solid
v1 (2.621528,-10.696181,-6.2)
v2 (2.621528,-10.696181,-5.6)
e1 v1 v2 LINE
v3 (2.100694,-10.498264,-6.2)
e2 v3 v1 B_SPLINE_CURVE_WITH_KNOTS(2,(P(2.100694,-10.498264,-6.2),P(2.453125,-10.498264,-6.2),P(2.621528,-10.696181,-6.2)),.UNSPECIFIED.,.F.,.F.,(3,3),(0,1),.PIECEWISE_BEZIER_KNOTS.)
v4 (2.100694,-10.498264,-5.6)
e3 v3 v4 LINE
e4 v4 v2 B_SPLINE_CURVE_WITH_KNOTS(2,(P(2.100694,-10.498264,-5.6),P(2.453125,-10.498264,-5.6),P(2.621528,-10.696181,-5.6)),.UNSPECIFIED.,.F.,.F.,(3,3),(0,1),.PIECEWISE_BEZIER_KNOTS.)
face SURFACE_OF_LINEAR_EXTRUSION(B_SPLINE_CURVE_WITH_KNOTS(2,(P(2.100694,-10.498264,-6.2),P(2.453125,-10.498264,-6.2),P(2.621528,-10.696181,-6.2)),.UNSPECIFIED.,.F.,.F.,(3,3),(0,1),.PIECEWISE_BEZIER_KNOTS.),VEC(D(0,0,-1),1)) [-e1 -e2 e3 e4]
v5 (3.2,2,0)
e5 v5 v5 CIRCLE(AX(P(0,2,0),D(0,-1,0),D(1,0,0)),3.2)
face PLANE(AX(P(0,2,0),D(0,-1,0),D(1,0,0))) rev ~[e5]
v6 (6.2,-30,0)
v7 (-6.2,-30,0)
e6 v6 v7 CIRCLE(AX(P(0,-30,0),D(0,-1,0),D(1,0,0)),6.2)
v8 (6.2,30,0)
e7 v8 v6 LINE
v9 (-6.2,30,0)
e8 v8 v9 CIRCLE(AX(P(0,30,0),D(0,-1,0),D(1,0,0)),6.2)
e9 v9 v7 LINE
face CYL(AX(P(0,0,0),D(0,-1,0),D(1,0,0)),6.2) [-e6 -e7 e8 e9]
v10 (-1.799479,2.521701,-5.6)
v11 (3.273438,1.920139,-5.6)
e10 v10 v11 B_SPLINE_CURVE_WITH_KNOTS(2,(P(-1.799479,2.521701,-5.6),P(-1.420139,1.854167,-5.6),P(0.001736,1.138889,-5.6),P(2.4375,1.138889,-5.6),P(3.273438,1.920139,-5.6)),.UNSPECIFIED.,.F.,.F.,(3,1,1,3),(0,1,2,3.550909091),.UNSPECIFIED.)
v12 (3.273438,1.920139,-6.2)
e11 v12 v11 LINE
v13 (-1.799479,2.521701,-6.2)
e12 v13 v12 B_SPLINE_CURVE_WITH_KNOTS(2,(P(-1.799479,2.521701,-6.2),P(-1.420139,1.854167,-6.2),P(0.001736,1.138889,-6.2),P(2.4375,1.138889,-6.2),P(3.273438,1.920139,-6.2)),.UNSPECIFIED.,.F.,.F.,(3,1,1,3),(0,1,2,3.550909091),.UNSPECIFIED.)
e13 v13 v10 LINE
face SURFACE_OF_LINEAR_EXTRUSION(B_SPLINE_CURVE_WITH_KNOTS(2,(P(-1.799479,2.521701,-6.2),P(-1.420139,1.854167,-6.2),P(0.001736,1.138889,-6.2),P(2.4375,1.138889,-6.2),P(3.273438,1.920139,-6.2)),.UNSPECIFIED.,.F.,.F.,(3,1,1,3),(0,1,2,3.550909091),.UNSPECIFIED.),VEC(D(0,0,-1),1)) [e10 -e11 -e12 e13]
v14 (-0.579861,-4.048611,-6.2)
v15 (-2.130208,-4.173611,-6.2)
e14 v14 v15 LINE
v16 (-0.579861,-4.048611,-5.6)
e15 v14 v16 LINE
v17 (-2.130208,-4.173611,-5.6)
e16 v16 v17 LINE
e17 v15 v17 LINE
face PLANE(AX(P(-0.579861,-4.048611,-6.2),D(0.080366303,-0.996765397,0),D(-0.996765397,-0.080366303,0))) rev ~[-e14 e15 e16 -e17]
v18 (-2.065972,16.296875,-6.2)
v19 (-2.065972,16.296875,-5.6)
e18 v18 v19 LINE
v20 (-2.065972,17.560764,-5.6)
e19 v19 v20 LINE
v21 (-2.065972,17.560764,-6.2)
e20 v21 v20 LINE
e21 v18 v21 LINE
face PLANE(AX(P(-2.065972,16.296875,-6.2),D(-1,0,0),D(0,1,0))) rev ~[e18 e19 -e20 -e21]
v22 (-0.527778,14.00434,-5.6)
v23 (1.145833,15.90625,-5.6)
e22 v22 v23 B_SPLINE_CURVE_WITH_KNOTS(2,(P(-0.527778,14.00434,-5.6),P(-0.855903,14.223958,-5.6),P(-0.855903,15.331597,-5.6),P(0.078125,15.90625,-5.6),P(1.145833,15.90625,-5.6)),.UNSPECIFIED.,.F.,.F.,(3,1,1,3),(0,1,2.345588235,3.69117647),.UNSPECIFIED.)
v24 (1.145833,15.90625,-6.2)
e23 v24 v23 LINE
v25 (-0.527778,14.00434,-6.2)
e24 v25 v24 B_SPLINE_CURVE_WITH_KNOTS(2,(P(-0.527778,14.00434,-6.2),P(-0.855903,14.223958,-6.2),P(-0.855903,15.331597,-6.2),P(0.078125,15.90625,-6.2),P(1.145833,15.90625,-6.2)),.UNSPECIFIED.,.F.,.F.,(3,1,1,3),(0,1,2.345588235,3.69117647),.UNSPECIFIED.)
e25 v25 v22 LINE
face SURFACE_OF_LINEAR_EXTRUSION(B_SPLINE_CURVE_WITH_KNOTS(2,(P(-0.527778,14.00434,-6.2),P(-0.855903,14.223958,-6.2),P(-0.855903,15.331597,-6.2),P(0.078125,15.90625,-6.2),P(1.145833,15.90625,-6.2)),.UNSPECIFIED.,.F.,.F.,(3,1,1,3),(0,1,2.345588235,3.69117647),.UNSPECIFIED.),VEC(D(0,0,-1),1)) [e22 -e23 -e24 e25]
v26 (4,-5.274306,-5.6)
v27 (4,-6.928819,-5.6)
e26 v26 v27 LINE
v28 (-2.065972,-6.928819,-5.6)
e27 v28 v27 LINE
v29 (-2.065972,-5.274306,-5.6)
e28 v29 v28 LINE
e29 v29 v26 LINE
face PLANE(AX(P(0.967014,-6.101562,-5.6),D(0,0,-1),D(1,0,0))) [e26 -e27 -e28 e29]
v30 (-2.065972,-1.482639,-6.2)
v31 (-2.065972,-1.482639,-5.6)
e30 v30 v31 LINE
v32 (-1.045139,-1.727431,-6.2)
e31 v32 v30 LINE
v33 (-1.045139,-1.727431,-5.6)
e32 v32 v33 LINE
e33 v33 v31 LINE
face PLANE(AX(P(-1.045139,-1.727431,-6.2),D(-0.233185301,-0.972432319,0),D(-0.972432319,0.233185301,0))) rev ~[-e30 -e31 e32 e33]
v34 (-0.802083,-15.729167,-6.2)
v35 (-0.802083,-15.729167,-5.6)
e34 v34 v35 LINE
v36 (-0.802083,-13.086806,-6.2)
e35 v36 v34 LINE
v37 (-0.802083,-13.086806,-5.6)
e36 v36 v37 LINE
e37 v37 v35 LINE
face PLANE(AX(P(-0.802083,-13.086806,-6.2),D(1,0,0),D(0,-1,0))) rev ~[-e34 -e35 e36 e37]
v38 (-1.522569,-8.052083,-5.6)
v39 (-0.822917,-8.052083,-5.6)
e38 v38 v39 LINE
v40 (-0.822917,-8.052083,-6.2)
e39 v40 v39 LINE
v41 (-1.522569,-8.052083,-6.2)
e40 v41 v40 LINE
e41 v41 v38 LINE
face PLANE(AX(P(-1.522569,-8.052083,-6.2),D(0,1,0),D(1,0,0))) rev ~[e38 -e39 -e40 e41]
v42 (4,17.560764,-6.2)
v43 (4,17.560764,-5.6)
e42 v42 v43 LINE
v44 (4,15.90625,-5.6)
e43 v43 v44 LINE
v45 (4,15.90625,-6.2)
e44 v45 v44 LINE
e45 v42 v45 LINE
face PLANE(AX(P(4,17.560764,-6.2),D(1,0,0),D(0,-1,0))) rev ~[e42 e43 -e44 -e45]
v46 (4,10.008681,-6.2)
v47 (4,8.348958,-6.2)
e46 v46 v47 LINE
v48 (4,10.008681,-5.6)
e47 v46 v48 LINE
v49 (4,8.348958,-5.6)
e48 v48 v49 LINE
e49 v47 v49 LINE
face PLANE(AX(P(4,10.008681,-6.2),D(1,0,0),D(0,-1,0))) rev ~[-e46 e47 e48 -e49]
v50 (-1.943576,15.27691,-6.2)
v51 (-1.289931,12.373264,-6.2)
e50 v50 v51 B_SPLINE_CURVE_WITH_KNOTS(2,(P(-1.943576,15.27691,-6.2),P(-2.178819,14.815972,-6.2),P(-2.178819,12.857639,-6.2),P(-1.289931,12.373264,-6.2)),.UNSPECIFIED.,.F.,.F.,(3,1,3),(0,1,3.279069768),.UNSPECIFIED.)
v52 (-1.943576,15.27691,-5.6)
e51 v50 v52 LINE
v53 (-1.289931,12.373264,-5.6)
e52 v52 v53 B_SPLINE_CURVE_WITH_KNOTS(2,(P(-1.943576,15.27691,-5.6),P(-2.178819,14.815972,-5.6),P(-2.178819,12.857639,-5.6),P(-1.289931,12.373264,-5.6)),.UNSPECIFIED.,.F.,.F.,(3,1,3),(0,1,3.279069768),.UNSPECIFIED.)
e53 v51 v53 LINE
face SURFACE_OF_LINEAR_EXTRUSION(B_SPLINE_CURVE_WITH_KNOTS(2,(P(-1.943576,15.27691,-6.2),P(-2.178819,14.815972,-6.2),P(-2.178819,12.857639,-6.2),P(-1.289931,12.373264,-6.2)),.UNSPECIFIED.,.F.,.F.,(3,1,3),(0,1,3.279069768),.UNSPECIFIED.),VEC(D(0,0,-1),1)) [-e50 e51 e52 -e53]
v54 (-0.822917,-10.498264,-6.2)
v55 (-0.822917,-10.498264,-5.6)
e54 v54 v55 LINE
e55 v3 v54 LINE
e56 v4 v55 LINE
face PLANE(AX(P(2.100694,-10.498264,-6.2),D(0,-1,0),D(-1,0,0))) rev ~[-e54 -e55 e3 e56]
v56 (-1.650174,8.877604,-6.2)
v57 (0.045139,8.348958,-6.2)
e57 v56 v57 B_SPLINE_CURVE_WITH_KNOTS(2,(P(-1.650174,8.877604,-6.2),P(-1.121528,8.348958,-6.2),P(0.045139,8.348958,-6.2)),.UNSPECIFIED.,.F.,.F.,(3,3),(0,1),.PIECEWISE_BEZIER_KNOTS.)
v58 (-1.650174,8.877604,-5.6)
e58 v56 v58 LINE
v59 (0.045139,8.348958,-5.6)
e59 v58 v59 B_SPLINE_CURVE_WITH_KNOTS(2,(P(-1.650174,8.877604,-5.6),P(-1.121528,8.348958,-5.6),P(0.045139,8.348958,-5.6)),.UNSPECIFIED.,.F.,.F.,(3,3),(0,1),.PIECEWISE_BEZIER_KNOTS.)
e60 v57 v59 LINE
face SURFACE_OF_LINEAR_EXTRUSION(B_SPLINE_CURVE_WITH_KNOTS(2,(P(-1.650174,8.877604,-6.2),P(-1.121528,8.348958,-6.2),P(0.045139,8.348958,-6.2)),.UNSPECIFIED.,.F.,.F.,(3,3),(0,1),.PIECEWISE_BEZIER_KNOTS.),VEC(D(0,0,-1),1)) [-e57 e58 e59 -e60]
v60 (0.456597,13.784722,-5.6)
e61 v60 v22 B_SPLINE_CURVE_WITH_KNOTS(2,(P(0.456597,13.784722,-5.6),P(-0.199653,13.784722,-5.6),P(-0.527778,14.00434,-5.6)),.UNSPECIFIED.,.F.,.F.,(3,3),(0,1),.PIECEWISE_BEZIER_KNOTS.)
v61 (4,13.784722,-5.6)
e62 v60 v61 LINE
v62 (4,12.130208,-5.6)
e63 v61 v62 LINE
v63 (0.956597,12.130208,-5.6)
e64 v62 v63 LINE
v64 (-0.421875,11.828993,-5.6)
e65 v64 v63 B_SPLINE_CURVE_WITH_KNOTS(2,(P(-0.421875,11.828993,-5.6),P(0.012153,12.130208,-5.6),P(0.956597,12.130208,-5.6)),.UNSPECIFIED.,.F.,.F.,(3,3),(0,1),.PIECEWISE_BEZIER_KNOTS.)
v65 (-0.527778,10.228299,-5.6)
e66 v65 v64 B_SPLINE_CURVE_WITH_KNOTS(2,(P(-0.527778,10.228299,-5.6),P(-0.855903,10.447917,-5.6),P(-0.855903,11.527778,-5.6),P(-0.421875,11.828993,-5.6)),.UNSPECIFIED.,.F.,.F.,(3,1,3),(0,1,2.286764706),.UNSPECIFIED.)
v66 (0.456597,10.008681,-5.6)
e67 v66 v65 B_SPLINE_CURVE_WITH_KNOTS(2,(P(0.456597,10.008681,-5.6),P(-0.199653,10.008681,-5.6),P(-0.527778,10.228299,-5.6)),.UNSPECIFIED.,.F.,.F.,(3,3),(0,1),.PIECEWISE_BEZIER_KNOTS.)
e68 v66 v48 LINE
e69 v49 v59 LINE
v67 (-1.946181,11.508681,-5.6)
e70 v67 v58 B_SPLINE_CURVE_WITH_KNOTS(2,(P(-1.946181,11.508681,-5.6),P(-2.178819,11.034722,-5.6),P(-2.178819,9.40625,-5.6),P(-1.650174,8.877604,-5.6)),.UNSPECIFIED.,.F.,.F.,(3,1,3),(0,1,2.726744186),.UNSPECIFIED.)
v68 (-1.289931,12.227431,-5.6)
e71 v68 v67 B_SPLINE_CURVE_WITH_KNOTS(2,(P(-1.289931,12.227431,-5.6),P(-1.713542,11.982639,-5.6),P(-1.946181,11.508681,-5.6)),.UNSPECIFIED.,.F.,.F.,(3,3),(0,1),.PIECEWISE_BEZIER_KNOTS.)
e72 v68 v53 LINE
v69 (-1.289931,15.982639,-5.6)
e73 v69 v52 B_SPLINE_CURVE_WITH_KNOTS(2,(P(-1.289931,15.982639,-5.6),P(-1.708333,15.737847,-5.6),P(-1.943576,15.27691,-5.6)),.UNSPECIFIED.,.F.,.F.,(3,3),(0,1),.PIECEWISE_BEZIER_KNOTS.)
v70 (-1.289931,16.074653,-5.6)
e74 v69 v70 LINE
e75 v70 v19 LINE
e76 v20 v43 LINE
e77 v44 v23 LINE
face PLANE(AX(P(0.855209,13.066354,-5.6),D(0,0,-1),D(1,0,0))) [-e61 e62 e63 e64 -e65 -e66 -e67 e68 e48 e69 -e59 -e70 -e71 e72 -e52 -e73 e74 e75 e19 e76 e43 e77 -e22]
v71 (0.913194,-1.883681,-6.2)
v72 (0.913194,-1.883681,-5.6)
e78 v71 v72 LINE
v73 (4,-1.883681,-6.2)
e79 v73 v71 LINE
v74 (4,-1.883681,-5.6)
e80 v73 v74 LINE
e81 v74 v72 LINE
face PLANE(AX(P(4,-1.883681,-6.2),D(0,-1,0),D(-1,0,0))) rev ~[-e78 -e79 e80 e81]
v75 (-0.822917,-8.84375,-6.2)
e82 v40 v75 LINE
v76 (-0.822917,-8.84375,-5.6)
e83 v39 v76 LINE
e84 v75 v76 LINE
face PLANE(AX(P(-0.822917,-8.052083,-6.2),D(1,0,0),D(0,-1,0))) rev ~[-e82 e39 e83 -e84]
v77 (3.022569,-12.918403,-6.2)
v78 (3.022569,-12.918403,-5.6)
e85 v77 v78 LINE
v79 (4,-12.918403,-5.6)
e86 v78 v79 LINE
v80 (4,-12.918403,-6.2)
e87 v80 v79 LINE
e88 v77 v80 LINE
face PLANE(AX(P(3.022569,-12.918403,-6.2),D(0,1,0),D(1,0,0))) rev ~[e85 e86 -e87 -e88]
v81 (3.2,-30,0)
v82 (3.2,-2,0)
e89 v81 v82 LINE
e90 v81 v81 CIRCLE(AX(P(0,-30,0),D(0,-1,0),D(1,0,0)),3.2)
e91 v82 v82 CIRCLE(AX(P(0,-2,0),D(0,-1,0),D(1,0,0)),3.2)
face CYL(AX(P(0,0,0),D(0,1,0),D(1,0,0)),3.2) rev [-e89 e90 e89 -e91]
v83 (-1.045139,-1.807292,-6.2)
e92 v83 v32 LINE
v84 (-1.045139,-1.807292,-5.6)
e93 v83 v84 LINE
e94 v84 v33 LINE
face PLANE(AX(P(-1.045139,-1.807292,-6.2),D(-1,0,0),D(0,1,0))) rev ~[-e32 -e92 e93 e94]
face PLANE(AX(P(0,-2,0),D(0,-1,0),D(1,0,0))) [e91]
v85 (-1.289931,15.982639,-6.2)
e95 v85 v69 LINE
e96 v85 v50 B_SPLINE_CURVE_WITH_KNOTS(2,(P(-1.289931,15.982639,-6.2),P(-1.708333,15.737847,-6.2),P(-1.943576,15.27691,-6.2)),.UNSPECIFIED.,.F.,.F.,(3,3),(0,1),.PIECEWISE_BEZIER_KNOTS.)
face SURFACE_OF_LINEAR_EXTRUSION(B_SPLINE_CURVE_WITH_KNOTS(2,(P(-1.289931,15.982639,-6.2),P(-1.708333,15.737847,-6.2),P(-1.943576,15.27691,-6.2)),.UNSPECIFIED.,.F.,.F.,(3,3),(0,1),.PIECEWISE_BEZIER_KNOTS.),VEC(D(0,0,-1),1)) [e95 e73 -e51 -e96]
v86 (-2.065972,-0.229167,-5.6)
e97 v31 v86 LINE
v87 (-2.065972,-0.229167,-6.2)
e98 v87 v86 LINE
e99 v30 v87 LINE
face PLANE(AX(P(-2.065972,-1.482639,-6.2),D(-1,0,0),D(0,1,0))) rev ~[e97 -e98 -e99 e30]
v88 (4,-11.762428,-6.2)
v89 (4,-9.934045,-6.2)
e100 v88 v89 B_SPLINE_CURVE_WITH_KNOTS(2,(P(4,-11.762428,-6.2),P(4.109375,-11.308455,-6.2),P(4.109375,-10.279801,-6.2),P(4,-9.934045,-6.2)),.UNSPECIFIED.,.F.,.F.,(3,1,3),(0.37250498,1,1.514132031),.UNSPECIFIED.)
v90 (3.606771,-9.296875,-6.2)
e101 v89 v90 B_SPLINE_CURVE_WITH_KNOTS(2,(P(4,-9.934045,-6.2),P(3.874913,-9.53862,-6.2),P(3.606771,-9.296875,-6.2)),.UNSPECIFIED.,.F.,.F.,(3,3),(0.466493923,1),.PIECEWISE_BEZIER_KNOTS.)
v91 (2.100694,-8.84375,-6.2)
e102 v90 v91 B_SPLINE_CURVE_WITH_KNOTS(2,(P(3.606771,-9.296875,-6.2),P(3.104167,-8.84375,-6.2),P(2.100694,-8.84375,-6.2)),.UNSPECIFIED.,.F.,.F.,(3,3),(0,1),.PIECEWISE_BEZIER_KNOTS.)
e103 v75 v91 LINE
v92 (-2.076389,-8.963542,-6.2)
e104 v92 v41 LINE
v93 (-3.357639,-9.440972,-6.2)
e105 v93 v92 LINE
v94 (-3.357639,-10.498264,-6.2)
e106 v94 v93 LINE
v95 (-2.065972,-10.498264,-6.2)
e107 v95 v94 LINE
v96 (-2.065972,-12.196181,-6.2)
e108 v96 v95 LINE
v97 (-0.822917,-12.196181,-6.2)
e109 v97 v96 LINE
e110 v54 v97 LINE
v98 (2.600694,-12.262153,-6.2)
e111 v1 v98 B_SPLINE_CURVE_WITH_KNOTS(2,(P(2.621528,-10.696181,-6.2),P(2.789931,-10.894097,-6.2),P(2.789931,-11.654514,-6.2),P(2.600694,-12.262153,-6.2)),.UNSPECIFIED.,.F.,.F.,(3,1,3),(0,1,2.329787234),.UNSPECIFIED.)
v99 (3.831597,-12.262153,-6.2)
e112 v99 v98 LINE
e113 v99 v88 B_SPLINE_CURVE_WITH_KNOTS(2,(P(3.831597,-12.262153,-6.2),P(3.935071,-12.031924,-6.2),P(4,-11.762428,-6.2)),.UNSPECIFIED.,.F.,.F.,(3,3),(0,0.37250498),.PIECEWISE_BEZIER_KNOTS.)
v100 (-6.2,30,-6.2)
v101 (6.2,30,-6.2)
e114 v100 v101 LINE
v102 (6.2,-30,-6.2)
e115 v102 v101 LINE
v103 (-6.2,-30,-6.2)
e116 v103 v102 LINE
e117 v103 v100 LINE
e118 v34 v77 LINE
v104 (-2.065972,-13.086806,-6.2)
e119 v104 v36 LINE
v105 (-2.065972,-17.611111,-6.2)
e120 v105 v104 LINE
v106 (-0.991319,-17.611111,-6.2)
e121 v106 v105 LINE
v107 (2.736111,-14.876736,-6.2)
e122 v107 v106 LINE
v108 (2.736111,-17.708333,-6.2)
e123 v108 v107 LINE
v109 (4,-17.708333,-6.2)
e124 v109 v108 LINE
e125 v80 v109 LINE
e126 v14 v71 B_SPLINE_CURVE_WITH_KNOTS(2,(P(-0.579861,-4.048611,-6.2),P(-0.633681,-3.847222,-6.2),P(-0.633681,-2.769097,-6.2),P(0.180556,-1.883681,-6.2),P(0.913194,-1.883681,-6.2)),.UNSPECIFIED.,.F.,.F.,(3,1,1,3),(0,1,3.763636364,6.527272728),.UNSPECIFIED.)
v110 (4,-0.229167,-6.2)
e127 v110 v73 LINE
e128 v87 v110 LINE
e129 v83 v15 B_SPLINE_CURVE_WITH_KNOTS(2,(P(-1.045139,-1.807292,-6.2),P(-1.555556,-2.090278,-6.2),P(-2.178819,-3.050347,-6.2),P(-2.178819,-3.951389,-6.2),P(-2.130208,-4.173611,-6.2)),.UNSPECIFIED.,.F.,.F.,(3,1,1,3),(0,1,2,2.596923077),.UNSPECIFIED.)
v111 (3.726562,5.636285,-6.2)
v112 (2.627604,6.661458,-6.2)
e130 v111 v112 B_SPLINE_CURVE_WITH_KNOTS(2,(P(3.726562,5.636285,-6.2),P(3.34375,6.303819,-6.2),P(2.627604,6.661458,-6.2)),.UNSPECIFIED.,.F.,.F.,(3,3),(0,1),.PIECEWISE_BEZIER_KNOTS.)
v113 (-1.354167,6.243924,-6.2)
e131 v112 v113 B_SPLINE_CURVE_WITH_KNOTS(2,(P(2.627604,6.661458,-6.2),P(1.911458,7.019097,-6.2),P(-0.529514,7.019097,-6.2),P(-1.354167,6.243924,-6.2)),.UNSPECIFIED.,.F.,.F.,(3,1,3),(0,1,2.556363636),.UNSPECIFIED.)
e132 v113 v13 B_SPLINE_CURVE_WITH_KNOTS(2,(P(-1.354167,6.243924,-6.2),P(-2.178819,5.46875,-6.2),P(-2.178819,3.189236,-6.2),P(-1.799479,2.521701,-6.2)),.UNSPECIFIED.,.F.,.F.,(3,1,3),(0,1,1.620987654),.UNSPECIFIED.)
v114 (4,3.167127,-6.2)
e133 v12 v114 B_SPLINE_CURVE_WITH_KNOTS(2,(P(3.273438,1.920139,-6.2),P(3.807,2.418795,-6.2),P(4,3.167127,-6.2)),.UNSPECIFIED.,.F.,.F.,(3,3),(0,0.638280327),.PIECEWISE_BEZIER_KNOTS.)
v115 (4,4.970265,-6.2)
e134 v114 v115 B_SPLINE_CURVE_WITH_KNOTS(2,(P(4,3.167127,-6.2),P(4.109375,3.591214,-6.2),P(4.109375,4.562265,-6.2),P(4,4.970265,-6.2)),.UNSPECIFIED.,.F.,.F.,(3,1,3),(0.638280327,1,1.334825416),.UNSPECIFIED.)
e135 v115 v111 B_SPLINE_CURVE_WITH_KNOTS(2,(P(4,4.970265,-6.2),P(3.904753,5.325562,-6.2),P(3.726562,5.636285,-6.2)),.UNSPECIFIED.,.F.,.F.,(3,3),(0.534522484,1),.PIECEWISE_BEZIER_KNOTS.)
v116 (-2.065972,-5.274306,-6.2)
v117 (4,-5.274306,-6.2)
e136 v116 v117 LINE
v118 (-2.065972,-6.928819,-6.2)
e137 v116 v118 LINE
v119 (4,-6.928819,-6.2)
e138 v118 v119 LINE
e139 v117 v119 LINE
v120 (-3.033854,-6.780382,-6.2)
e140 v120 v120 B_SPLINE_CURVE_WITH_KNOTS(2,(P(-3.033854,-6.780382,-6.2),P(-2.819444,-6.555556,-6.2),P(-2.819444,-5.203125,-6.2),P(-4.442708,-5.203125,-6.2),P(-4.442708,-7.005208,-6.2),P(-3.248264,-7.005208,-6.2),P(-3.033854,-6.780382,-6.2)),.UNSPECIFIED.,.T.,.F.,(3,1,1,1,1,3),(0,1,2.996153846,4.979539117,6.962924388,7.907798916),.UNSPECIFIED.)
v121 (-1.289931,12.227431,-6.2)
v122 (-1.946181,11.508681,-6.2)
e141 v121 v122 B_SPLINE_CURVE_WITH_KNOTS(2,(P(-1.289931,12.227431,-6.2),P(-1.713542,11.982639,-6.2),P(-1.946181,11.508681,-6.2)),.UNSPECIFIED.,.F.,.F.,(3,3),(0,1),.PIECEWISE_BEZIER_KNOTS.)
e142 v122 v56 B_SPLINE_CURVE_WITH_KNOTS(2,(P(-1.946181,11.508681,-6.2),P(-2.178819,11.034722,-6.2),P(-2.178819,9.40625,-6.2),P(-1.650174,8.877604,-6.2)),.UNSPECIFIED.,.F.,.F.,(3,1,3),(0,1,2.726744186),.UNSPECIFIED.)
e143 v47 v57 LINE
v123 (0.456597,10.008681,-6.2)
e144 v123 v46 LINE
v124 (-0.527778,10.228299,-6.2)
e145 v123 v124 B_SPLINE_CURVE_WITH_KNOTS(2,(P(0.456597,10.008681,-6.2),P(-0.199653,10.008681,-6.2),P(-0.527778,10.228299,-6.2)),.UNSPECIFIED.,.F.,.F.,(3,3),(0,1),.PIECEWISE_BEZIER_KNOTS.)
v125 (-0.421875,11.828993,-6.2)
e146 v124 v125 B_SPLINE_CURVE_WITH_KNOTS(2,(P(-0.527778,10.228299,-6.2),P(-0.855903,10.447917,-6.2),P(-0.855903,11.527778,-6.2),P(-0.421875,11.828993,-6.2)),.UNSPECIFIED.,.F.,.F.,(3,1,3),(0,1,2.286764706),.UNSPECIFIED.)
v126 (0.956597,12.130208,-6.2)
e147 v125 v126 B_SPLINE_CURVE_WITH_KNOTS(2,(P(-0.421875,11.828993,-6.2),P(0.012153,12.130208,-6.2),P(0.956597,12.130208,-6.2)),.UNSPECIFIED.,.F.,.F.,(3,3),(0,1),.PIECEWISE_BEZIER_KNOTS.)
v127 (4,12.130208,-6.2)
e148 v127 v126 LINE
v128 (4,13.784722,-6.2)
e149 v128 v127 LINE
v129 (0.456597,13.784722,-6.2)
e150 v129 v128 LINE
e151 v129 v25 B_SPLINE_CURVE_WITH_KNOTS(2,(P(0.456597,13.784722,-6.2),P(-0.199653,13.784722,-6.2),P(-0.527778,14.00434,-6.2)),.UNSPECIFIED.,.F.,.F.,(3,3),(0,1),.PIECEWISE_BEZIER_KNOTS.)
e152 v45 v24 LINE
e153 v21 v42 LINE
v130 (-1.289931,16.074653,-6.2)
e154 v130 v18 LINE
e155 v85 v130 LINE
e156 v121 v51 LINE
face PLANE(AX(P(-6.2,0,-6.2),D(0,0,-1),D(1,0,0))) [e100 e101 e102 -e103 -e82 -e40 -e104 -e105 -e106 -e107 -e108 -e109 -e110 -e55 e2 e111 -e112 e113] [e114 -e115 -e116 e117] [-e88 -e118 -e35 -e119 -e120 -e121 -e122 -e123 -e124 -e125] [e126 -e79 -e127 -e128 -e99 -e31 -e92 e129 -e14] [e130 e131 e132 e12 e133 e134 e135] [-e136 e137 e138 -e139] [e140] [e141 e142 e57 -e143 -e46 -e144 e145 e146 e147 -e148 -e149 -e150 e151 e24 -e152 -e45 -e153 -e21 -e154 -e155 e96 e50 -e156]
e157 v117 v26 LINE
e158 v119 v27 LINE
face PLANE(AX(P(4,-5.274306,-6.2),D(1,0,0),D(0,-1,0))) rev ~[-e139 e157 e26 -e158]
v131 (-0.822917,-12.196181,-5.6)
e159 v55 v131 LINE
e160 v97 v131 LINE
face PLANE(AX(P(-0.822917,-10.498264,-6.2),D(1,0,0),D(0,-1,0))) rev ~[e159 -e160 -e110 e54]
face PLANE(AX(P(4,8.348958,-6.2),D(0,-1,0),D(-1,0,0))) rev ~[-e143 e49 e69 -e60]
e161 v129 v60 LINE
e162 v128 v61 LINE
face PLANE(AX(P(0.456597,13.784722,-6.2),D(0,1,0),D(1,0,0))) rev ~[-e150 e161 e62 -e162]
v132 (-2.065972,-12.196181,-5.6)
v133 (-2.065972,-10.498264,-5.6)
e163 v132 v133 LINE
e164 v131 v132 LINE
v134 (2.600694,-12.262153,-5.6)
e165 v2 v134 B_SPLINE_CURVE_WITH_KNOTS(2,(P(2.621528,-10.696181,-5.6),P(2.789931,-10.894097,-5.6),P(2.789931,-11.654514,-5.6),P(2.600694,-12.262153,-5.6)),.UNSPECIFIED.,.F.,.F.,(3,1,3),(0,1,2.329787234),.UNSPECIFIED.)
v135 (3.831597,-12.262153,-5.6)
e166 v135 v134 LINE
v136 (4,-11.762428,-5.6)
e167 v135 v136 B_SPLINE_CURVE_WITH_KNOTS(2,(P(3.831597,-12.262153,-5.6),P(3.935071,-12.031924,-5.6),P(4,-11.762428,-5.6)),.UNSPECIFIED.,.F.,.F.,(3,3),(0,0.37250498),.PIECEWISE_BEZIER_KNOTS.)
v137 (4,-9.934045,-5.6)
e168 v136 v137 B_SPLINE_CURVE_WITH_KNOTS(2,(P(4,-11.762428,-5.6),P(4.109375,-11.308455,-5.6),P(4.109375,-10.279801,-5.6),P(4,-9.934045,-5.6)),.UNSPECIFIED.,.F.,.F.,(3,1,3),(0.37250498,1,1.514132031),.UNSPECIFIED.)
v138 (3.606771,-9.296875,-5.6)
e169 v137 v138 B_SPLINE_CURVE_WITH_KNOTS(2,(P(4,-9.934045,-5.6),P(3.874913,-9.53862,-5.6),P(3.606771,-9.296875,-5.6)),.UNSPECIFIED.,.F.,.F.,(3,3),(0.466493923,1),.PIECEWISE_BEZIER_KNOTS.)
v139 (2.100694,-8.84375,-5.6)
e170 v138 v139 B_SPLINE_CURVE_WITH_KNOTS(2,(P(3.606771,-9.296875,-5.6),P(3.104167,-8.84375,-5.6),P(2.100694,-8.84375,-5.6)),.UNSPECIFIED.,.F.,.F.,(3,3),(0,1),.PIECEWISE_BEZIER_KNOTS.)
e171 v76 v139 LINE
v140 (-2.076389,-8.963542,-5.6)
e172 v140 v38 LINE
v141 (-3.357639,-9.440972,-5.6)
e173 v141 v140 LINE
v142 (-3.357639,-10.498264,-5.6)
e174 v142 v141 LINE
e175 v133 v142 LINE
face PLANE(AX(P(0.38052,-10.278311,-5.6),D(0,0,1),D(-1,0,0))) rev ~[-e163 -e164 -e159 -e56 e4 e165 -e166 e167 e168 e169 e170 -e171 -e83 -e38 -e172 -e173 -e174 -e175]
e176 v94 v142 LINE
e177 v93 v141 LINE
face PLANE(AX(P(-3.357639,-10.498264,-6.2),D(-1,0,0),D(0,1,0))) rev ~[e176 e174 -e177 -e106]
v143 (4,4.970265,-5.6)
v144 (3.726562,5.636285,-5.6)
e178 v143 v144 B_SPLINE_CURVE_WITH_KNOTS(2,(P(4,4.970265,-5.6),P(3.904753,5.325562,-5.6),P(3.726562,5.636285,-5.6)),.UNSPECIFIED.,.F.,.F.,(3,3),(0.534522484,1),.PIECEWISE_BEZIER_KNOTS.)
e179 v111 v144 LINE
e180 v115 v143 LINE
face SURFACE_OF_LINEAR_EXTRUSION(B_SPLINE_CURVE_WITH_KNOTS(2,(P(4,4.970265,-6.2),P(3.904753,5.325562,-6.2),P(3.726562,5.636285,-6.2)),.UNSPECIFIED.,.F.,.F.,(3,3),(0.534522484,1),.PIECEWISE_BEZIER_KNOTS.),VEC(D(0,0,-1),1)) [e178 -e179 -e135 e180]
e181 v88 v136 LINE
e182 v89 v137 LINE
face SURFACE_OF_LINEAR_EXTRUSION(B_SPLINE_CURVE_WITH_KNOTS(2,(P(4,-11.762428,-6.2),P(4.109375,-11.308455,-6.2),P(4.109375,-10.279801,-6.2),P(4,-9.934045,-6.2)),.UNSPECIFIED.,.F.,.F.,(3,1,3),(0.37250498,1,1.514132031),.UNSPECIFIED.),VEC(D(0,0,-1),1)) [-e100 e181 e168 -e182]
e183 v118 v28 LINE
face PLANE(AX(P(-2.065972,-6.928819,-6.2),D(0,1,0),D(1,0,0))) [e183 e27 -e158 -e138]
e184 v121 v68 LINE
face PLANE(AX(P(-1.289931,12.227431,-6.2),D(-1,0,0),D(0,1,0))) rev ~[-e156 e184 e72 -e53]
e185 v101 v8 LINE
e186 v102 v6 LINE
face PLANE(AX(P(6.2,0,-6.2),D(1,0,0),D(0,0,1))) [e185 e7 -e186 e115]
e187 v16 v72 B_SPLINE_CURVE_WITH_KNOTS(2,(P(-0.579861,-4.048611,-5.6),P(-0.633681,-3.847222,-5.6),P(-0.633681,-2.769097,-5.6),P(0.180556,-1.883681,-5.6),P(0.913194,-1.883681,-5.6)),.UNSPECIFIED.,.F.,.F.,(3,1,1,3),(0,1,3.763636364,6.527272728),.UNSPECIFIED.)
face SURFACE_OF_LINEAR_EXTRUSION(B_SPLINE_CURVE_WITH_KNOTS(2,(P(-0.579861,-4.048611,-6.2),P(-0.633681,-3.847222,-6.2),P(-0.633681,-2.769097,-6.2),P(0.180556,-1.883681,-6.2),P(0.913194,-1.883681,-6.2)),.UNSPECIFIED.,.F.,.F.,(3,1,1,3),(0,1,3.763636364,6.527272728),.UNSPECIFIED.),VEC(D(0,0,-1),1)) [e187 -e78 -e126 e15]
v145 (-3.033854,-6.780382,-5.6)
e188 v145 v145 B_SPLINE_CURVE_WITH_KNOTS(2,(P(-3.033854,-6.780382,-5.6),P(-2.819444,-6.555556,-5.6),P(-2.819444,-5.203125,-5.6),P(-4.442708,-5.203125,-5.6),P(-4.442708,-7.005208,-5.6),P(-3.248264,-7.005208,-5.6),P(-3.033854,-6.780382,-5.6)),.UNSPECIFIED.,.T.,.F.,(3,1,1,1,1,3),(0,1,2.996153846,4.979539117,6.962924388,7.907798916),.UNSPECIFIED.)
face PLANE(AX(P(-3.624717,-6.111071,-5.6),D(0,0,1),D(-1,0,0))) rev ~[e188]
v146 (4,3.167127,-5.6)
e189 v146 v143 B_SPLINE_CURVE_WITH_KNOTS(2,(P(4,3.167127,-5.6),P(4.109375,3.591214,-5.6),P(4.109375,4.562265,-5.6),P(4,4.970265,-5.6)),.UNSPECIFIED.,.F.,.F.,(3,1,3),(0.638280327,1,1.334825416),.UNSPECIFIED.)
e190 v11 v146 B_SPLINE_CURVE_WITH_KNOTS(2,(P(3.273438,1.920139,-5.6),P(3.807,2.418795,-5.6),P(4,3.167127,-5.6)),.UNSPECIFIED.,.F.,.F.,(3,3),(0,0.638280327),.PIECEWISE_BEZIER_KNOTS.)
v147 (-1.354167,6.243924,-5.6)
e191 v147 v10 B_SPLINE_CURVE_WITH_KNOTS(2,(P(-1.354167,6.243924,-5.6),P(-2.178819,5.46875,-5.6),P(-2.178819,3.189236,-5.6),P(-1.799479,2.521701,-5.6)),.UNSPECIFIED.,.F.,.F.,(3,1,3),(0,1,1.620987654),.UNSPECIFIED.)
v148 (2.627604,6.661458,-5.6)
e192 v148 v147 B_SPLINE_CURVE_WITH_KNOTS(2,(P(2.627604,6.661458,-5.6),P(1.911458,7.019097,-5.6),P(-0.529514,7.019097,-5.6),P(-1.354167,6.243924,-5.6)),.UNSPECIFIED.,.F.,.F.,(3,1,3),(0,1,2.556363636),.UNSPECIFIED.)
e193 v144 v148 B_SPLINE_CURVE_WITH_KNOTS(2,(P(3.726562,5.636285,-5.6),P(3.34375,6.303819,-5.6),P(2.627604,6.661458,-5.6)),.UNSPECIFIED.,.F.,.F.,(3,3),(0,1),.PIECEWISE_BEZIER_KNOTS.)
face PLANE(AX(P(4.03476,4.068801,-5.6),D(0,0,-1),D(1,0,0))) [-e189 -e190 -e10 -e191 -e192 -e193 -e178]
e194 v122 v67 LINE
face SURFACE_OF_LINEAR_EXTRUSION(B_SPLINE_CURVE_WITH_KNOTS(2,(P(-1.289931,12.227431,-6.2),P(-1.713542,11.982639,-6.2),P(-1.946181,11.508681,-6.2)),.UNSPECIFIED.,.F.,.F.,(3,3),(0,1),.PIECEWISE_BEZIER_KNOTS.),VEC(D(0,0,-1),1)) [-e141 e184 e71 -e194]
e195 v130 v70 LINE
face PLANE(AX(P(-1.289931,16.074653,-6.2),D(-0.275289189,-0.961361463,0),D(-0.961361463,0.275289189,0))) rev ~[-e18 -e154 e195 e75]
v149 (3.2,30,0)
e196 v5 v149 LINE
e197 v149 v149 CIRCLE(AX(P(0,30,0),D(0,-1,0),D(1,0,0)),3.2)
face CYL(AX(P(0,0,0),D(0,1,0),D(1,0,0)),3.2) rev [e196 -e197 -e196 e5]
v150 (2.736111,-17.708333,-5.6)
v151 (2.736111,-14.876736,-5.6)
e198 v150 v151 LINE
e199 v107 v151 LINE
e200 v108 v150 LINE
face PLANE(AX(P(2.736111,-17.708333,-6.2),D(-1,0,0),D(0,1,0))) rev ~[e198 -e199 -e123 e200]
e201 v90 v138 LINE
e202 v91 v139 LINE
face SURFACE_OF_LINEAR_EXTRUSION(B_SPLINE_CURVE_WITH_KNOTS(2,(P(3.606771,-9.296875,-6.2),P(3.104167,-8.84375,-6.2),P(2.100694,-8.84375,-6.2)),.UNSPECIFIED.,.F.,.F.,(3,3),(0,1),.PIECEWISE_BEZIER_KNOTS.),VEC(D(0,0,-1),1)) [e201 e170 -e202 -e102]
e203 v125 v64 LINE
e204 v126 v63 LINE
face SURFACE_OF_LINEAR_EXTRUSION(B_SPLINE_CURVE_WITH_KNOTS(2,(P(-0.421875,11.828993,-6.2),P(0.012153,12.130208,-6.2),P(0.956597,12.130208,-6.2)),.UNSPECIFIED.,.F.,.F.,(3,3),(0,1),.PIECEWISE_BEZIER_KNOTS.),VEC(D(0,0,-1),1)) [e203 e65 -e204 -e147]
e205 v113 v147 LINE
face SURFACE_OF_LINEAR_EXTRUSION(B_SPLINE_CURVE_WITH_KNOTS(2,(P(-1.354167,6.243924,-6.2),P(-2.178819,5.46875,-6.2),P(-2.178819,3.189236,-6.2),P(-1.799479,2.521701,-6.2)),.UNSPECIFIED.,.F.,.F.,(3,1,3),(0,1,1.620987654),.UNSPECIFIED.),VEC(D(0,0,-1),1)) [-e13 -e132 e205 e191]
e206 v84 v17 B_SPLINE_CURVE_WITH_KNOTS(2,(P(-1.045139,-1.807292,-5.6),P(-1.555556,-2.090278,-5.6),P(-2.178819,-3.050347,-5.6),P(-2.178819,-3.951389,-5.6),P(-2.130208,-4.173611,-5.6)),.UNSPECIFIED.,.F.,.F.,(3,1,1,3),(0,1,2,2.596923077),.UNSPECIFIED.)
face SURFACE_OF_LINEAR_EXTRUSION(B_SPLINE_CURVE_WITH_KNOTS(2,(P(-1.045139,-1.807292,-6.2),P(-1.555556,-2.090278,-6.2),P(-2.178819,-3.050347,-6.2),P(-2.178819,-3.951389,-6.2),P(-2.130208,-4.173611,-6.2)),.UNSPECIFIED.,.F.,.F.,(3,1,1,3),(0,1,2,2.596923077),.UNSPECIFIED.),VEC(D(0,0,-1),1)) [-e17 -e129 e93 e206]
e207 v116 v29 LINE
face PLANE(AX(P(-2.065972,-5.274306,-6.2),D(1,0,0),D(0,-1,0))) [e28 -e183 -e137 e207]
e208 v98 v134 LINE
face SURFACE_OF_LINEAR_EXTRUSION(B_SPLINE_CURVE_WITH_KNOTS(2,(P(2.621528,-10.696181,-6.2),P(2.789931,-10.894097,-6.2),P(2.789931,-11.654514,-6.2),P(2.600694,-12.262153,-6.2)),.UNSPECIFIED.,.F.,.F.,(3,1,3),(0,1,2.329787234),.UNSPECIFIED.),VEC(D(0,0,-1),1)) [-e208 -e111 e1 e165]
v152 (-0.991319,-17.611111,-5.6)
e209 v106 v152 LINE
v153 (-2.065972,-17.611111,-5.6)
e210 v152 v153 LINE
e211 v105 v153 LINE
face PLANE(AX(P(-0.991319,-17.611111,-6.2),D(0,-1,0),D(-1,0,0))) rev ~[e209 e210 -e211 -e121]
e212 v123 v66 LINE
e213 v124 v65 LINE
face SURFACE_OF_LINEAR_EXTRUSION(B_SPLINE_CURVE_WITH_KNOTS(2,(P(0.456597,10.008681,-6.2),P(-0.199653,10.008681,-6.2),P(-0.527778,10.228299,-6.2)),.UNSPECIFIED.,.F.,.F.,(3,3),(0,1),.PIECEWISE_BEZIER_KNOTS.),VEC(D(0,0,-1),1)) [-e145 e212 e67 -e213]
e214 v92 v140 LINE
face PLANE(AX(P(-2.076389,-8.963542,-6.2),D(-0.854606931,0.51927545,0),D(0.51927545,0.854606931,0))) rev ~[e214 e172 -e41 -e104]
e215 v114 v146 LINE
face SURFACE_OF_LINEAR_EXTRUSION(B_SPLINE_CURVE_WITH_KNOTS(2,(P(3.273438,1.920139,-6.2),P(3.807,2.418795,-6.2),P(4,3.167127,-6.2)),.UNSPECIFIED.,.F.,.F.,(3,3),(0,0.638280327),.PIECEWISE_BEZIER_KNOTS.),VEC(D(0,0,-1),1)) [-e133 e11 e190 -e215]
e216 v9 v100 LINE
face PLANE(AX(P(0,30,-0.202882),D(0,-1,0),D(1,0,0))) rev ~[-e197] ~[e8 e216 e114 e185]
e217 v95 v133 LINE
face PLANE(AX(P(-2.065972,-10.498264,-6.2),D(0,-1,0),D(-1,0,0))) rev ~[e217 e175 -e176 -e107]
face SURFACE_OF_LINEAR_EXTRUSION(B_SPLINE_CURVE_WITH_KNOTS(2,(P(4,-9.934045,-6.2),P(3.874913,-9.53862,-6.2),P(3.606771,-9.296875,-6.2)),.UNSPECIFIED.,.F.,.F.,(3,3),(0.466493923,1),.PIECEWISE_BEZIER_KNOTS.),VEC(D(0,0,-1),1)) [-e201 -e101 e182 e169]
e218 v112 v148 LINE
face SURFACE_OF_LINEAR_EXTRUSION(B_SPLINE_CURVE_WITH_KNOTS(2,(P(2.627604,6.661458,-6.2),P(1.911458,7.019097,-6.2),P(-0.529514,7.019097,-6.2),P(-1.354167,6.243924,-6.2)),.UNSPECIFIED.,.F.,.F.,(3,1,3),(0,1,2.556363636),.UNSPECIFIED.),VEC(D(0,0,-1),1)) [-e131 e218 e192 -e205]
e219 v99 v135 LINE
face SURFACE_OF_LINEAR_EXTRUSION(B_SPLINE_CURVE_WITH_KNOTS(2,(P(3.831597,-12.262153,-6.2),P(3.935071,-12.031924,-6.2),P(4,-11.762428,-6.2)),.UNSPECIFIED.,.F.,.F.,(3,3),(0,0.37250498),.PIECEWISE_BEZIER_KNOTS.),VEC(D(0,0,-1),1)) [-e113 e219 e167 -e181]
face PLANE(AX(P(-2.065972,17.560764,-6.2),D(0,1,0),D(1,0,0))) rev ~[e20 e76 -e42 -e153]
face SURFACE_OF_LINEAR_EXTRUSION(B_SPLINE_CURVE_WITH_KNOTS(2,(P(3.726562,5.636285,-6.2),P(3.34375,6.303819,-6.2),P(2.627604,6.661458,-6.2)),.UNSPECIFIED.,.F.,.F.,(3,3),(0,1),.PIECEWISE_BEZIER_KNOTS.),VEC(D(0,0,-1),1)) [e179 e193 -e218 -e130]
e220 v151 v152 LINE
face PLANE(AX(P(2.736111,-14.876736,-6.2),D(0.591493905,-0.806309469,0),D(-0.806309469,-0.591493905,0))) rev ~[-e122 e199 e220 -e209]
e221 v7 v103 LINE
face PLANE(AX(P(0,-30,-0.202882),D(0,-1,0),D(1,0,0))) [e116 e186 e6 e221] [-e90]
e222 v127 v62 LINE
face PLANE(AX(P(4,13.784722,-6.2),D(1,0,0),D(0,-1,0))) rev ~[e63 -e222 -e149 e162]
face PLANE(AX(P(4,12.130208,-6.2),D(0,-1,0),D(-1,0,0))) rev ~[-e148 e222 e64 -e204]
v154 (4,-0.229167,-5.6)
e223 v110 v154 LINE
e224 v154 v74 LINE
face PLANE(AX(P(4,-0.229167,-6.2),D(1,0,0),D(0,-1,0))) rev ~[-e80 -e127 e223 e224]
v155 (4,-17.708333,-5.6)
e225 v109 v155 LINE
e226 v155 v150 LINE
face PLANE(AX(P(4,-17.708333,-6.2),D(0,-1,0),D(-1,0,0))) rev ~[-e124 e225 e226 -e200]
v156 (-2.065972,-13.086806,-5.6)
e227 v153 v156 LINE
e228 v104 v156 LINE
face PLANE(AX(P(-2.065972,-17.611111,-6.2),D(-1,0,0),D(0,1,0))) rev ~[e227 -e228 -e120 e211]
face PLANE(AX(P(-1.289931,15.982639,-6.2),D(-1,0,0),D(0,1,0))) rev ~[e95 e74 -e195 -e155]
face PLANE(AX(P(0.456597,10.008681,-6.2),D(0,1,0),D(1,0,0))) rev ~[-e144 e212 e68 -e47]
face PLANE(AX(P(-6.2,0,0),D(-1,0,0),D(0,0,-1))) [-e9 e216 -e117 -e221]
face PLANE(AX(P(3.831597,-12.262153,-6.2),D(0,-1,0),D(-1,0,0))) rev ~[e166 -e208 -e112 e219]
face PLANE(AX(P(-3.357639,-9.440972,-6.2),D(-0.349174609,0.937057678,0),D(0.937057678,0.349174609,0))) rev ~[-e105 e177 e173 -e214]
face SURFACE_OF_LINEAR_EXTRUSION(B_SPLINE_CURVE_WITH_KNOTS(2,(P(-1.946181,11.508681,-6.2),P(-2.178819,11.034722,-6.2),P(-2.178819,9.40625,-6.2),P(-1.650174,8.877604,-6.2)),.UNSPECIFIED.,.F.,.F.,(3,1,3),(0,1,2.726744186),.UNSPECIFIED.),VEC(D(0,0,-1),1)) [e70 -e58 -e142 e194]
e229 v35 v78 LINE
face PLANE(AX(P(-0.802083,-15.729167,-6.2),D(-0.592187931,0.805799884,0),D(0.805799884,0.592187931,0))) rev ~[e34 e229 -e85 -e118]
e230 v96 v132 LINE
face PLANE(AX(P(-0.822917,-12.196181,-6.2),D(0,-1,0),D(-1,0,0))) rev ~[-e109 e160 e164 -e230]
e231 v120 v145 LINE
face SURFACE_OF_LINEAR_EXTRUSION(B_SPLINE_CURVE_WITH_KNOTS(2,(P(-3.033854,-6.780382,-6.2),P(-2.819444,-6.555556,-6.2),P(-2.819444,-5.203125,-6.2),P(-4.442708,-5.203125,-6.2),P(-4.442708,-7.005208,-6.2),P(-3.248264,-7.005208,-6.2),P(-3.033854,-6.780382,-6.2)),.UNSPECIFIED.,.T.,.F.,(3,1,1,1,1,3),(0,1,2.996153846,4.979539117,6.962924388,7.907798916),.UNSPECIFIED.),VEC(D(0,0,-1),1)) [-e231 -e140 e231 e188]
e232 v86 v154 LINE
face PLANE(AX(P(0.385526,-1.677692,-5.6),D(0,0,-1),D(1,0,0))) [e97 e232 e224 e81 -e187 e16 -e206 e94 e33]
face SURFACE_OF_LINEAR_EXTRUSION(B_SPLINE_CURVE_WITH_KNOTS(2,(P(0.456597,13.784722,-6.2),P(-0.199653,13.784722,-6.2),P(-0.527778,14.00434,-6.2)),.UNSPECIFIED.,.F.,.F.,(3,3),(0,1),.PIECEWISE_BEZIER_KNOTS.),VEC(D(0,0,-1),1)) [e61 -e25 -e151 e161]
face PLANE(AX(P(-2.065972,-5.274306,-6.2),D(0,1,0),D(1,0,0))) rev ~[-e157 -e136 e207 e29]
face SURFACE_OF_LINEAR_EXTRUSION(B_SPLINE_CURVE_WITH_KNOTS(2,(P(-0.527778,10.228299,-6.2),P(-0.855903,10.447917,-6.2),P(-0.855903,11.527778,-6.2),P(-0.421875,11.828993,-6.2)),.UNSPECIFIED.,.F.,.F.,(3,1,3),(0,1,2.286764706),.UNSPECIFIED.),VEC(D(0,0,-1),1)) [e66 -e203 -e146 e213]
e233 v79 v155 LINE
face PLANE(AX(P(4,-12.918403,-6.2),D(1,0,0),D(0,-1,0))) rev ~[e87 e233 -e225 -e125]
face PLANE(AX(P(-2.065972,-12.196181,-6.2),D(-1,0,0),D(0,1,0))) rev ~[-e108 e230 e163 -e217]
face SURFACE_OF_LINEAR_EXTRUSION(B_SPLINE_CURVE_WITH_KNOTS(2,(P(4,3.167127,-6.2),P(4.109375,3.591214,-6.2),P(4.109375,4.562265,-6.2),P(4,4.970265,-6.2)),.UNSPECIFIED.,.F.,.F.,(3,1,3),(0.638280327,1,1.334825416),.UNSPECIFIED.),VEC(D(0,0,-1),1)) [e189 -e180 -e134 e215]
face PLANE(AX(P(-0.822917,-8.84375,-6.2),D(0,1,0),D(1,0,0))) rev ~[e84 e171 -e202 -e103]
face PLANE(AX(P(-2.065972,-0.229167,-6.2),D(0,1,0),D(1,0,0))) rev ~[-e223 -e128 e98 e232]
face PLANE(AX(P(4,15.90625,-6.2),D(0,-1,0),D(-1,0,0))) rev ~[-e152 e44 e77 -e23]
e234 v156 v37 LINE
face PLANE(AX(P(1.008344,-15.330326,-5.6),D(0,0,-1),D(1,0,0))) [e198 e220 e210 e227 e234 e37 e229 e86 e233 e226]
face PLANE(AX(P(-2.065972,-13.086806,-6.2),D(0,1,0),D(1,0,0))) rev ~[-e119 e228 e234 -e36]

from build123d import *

# Parameters (mm, degrees)
F0_R     = 3.2
F1_DEPTH = 30
F2_W     = 6.0659722222
F2_H     = 1.6545138889
F3_DEPTH = 0.6
F4_R     = 3.2
F5_DEPTH = 2


with BuildPart() as f1:
    # F0 (on Front) → F1 (new body, symmetric)
    with BuildSketch(Plane.XZ):
        with BuildLine():
            ThreePointArc((0, -6.2), (4.3840620434, -4.3840620434), (6.2, 0))
            ThreePointArc((6.2, 0), (0, 6.2), (-6.2, 0))
            ThreePointArc((-6.2, 0), (-4.3840620434, -4.3840620434), (0, -6.2))
        make_face()
        Circle(F0_R, mode=Mode.SUBTRACT)
        with BuildLine():
            Line((6.2, -6.2), (6.2, 0))
            ThreePointArc((6.2, 0), (4.3840620434, -4.3840620434), (0, -6.2))
            Line((0, -6.2), (6.2, -6.2))
        make_face()
        with BuildLine():
            ThreePointArc((0, -6.2), (-4.3840620434, -4.3840620434), (-6.2, 0))
            Line((-6.2, 0), (-6.2, -6.2))
            Line((-6.2, -6.2), (0, -6.2))
        make_face()
    extrude(amount=F1_DEPTH, both=True)

    # F2 (on face) → F3 (cut)
    with BuildSketch(Plane(origin=(0, 0, -6.2), x_dir=(1, 0, 0), z_dir=(0, 0, -1))):
        with BuildLine():
            Line((-2.0659722222, 0.2291666667), (4, 0.2291666667))
            Line((4, 0.2291666667), (4, 1.8836805556))
            Line((4, 1.8836805556), (0.9131944444, 1.8836805556))
            add(Edge.make_bspline(
                [(-0.2265625, 2.3263888889), (0.1805555556, 1.8836805556), (0.9131944444, 1.8836805556)],
                knots=[0, 0, 0, 1, 1, 1], degree=2))
            add(Edge.make_bspline(
                [(-0.6336805556, 3.5607638889), (-0.6336805556, 2.7690972222), (-0.2265625, 2.3263888889)],
                knots=[0, 0, 0, 1, 1, 1], degree=2))
            add(Edge.make_bspline(
                [(-0.5798611111, 4.0486111111), (-0.6336805556, 3.8472222222), (-0.6336805556, 3.5607638889)],
                knots=[0, 0, 0, 1, 1, 1], degree=2))
            Line((-0.5798611111, 4.0486111111), (-2.1302083333, 4.1736111111))
            add(Edge.make_bspline(
                [(-2.1788194444, 3.6145833333), (-2.1788194444, 3.9513888889), (-2.1302083333, 4.1736111111)],
                knots=[0, 0, 0, 1, 1, 1], degree=2))
            add(Edge.make_bspline(
                [(-1.8671875, 2.5703125), (-2.1788194444, 3.0503472222), (-2.1788194444, 3.6145833333)],
                knots=[0, 0, 0, 1, 1, 1], degree=2))
            add(Edge.make_bspline(
                [(-1.0451388889, 1.8072916667), (-1.5555555556, 2.0902777778), (-1.8671875, 2.5703125)],
                knots=[0, 0, 0, 1, 1, 1], degree=2))
            Line((-1.0451388889, 1.8072916667), (-1.0451388889, 1.7274305556))
            Line((-1.0451388889, 1.7274305556), (-2.0659722222, 1.4826388889))
            Line((-2.0659722222, 1.4826388889), (-2.0659722222, 0.2291666667))
        make_face()
        with BuildLine():
            add(Edge.make_bspline(
                [(-3.6336805556, 5.203125), (-4.4427083333, 5.203125), (-4.4427083333, 6.1041666667)],
                knots=[0, 0, 0, 1, 1, 1], degree=2))
            add(Edge.make_bspline(
                [(-2.8194444444, 6.1041666667), (-2.8194444444, 5.203125), (-3.6336805556, 5.203125)],
                knots=[0, 0, 0, 1, 1, 1], degree=2))
            add(Edge.make_bspline(
                [(-3.0338541667, 6.7803819444), (-2.8194444444, 6.5555555556), (-2.8194444444, 6.1041666667)],
                knots=[0, 0, 0, 1, 1, 1], degree=2))
            add(Edge.make_bspline(
                [(-3.6336805556, 7.0052083333), (-3.2482638889, 7.0052083333), (-3.0338541667, 6.7803819444)],
                knots=[0, 0, 0, 1, 1, 1], degree=2))
            add(Edge.make_bspline(
                [(-4.4427083333, 6.1041666667), (-4.4427083333, 7.0052083333), (-3.6336805556, 7.0052083333)],
                knots=[0, 0, 0, 1, 1, 1], degree=2))
        make_face()
        with Locations((0.9670138889, 6.1015625)):
            Rectangle(F2_W, F2_H)
        Polygon((3.0225694444, 12.9184027778), (4, 12.9184027778), (4, 17.7083333333), (2.7361111111, 17.7083333333), (2.7361111111, 14.8767361111), (-0.9913194444, 17.6111111111), (-2.0659722222, 17.6111111111), (-2.0659722222, 13.0868055556), (-0.8020833333, 13.0868055556), (-0.8020833333, 15.7291666667), align=None)
        with BuildLine():
            Line((4, -3.1671269476), (4, -4.9702647151))
            add(Edge.make_bspline(
                [(4.109375, -4.0954861111), (4.109375, -4.562265294), (4, -4.9702647151)],
                knots=[0, 0, 0, 0.5345224838, 0.5345224838, 0.5345224838], degree=2))
            add(Edge.make_bspline(
                [(4, -3.1671269476), (4.109375, -3.5912137204), (4.109375, -4.0954861111)],
                knots=[0.6382803275, 0.6382803275, 0.6382803275, 1, 1, 1], degree=2))
        make_face()
        with BuildLine():
            add(Edge.make_bspline(
                [(4, 9.9340446327), (3.8749132105, 9.5386199411), (3.6067708333, 9.296875)],
                knots=[0.4664939231, 0.4664939231, 0.4664939231, 1, 1, 1], degree=2))
            Line((4, 9.9340446327), (4, 11.7624280914))
            add(Edge.make_bspline(
                [(3.8315972222, 12.2621527778), (3.9350708278, 12.0319240054), (4, 11.7624280914)],
                knots=[0, 0, 0, 0.3725049801, 0.3725049801, 0.3725049801], degree=2))
            Line((3.8315972222, 12.2621527778), (2.6006944444, 12.2621527778))
            add(Edge.make_bspline(
                [(2.7899305556, 11.2204861111), (2.7899305556, 11.6545138889), (2.6006944444, 12.2621527778)],
                knots=[0, 0, 0, 1, 1, 1], degree=2))
            add(Edge.make_bspline(
                [(2.6215277778, 10.6961805556), (2.7899305556, 10.8940972222), (2.7899305556, 11.2204861111)],
                knots=[0, 0, 0, 1, 1, 1], degree=2))
            add(Edge.make_bspline(
                [(2.1006944444, 10.4982638889), (2.453125, 10.4982638889), (2.6215277778, 10.6961805556)],
                knots=[0, 0, 0, 1, 1, 1], degree=2))
            Line((2.1006944444, 10.4982638889), (-0.8229166667, 10.4982638889))
            Line((-0.8229166667, 10.4982638889), (-0.8229166667, 12.1961805556))
            Line((-0.8229166667, 12.1961805556), (-2.0659722222, 12.1961805556))
            Line((-2.0659722222, 12.1961805556), (-2.0659722222, 10.4982638889))
            Line((-2.0659722222, 10.4982638889), (-3.3576388889, 10.4982638889))
            Line((-3.3576388889, 10.4982638889), (-3.3576388889, 9.4409722222))
            Line((-3.3576388889, 9.4409722222), (-2.0763888889, 8.9635416667))
            Line((-2.0763888889, 8.9635416667), (-1.5225694444, 8.0520833333))
            Line((-1.5225694444, 8.0520833333), (-0.8229166667, 8.0520833333))
            Line((-0.8229166667, 8.0520833333), (-0.8229166667, 8.84375))
            Line((-0.8229166667, 8.84375), (2.1006944444, 8.84375))
            add(Edge.make_bspline(
                [(3.6067708333, 9.296875), (3.1041666667, 8.84375), (2.1006944444, 8.84375)],
                knots=[0, 0, 0, 1, 1, 1], degree=2))
        make_face()
        with BuildLine():
            Line((4, 11.7624280914), (4, 9.9340446327))
            add(Edge.make_bspline(
                [(4.109375, 10.7430555556), (4.109375, 10.2798011736), (4, 9.9340446327)],
                knots=[0, 0, 0, 0.4664939231, 0.4664939231, 0.4664939231], degree=2))
            add(Edge.make_bspline(
                [(4, 11.7624280914), (4.109375, 11.3084547141), (4.109375, 10.7430555556)],
                knots=[0.3725049801, 0.3725049801, 0.3725049801, 1, 1, 1], degree=2))
        make_face()
        with BuildLine():
            Line((-2.0659722222, -17.5607638889), (4, -17.5607638889))
            Line((4, -17.5607638889), (4, -15.90625))
            Line((4, -15.90625), (1.1458333333, -15.90625))
            add(Edge.make_bspline(
                [(-0.3888888889, -15.6189236111), (0.078125, -15.90625), (1.1458333333, -15.90625)],
                knots=[0, 0, 0, 1, 1, 1], degree=2))
            add(Edge.make_bspline(
                [(-0.8559027778, -14.6961805556), (-0.8559027778, -15.3315972222), (-0.3888888889, -15.6189236111)],
                knots=[0, 0, 0, 1, 1, 1], degree=2))
            add(Edge.make_bspline(
                [(-0.5277777778, -14.0043402778), (-0.8559027778, -14.2239583333), (-0.8559027778, -14.6961805556)],
                knots=[0, 0, 0, 1, 1, 1], degree=2))
            add(Edge.make_bspline(
                [(0.4565972222, -13.7847222222), (-0.1996527778, -13.7847222222), (-0.5277777778, -14.0043402778)],
                knots=[0, 0, 0, 1, 1, 1], degree=2))
            Line((0.4565972222, -13.7847222222), (4, -13.7847222222))
            Line((4, -13.7847222222), (4, -12.1302083333))
            Line((4, -12.1302083333), (0.9565972222, -12.1302083333))
            add(Edge.make_bspline(
                [(-0.421875, -11.8289930556), (0.0121527778, -12.1302083333), (0.9565972222, -12.1302083333)],
                knots=[0, 0, 0, 1, 1, 1], degree=2))
            add(Edge.make_bspline(
                [(-0.8559027778, -10.9201388889), (-0.8559027778, -11.5277777778), (-0.421875, -11.8289930556)],
                knots=[0, 0, 0, 1, 1, 1], degree=2))
            add(Edge.make_bspline(
                [(-0.5277777778, -10.2282986111), (-0.8559027778, -10.4479166667), (-0.8559027778, -10.9201388889)],
                knots=[0, 0, 0, 1, 1, 1], degree=2))
            add(Edge.make_bspline(
                [(0.4565972222, -10.0086805556), (-0.1996527778, -10.0086805556), (-0.5277777778, -10.2282986111)],
                knots=[0, 0, 0, 1, 1, 1], degree=2))
            Line((0.4565972222, -10.0086805556), (4, -10.0086805556))
            Line((4, -10.0086805556), (4, -8.3489583333))
            Line((4, -8.3489583333), (0.0451388889, -8.3489583333))
            add(Edge.make_bspline(
                [(-1.6501736111, -8.8776041667), (-1.1215277778, -8.3489583333), (0.0451388889, -8.3489583333)],
                knots=[0, 0, 0, 1, 1, 1], degree=2))
            add(Edge.make_bspline(
                [(-2.1788194444, -10.4375), (-2.1788194444, -9.40625), (-1.6501736111, -8.8776041667)],
                knots=[0, 0, 0, 1, 1, 1], degree=2))
            add(Edge.make_bspline(
                [(-1.9461805556, -11.5086805556), (-2.1788194444, -11.0347222222), (-2.1788194444, -10.4375)],
                knots=[0, 0, 0, 1, 1, 1], degree=2))
            add(Edge.make_bspline(
                [(-1.2899305556, -12.2274305556), (-1.7135416667, -11.9826388889), (-1.9461805556, -11.5086805556)],
                knots=[0, 0, 0, 1, 1, 1], degree=2))
            Line((-1.2899305556, -12.2274305556), (-1.2899305556, -12.3732638889))
            add(Edge.make_bspline(
                [(-2.1788194444, -14.21875), (-2.1788194444, -12.8576388889), (-1.2899305556, -12.3732638889)],
                knots=[0, 0, 0, 1, 1, 1], degree=2))
            add(Edge.make_bspline(
                [(-1.9435763889, -15.2769097222), (-2.1788194444, -14.8159722222), (-2.1788194444, -14.21875)],
                knots=[0, 0, 0, 1, 1, 1], degree=2))
            add(Edge.make_bspline(
                [(-1.2899305556, -15.9826388889), (-1.7083333333, -15.7378472222), (-1.9435763889, -15.2769097222)],
                knots=[0, 0, 0, 1, 1, 1], degree=2))
            Line((-1.2899305556, -15.9826388889), (-1.2899305556, -16.0746527778))
            Line((-1.2899305556, -16.0746527778), (-2.0659722222, -16.296875))
            Line((-2.0659722222, -16.296875), (-2.0659722222, -17.5607638889))
        make_face()
        with BuildLine():
            add(Edge.make_bspline(
                [(4, -4.9702647151), (3.9047531117, -5.3255623178), (3.7265625, -5.6362847222)],
                knots=[0.5345224838, 0.5345224838, 0.5345224838, 1, 1, 1], degree=2))
            Line((4, -4.9702647151), (4, -3.1671269476))
            add(Edge.make_bspline(
                [(3.2734375, -1.9201388889), (3.8069999612, -2.4187953947), (4, -3.1671269476)],
                knots=[0, 0, 0, 0.6382803275, 0.6382803275, 0.6382803275], degree=2))
            add(Edge.make_bspline(
                [(0.9565972222, -1.1388888889), (2.4375, -1.1388888889), (3.2734375, -1.9201388889)],
                knots=[0, 0, 0, 1, 1, 1], degree=2))
            add(Edge.make_bspline(
                [(-0.7092013889, -1.4965277778), (0.0017361111, -1.1388888889), (0.9565972222, -1.1388888889)],
                knots=[0, 0, 0, 1, 1, 1], degree=2))
            add(Edge.make_bspline(
                [(-1.7994791667, -2.5217013889), (-1.4201388889, -1.8541666667), (-0.7092013889, -1.4965277778)],
                knots=[0, 0, 0, 1, 1, 1], degree=2))
            add(Edge.make_bspline(
                [(-2.1788194444, -4.0625), (-2.1788194444, -3.1892361111), (-1.7994791667, -2.5217013889)],
                knots=[0, 0, 0, 1, 1, 1], degree=2))
            add(Edge.make_bspline(
                [(-1.3541666667, -6.2439236111), (-2.1788194444, -5.46875), (-2.1788194444, -4.0625)],
                knots=[0, 0, 0, 1, 1, 1], degree=2))
            add(Edge.make_bspline(
                [(0.9565972222, -7.0190972222), (-0.5295138889, -7.0190972222), (-1.3541666667, -6.2439236111)],
                knots=[0, 0, 0, 1, 1, 1], degree=2))
            add(Edge.make_bspline(
                [(2.6276041667, -6.6614583333), (1.9114583333, -7.0190972222), (0.9565972222, -7.0190972222)],
                knots=[0, 0, 0, 1, 1, 1], degree=2))
            add(Edge.make_bspline(
                [(3.7265625, -5.6362847222), (3.34375, -6.3038194444), (2.6276041667, -6.6614583333)],
                knots=[0, 0, 0, 1, 1, 1], degree=2))
        make_face()
        with BuildLine():
            add(Edge.make_bspline(
                [(0.9565972222, -5.3333333333), (1.8576388889, -5.3333333333), (2.3185763889, -5.0373263889)],
                knots=[0, 0, 0, 1, 1, 1], degree=2))
            add(Edge.make_bspline(
                [(-0.3975694444, -5.0399305556), (0.0503472222, -5.3333333333), (0.9565972222, -5.3333333333)],
                knots=[0, 0, 0, 1, 1, 1], degree=2))
            add(Edge.make_bspline(
                [(-0.8454861111, -4.0850694444), (-0.8454861111, -4.7465277778), (-0.3975694444, -5.0399305556)],
                knots=[0, 0, 0, 1, 1, 1], degree=2))
            add(Edge.make_bspline(
                [(-0.3949652778, -3.1241319444), (-0.8454861111, -3.4166666667), (-0.8454861111, -4.0850694444)],
                knots=[0, 0, 0, 1, 1, 1], degree=2))
            add(Edge.make_bspline(
                [(0.9565972222, -2.8315972222), (0.0555555556, -2.8315972222), (-0.3949652778, -3.1241319444)],
                knots=[0, 0, 0, 1, 1, 1], degree=2))
            add(Edge.make_bspline(
                [(2.3211805556, -3.1215277778), (1.8628472222, -2.8315972222), (0.9565972222, -2.8315972222)],
                knots=[0, 0, 0, 1, 1, 1], degree=2))
            add(Edge.make_bspline(
                [(2.7795138889, -4.0746527778), (2.7795138889, -3.4114583333), (2.3211805556, -3.1215277778)],
                knots=[0, 0, 0, 1, 1, 1], degree=2))
            add(Edge.make_bspline(
                [(2.3185763889, -5.0373263889), (2.7795138889, -4.7413194444), (2.7795138889, -4.0746527778)],
                knots=[0, 0, 0, 1, 1, 1], degree=2))
        make_face(mode=Mode.SUBTRACT)
        with BuildLine():
            add(Edge.make_bspline(
                [(-0.3975694444, -5.0399305556), (0.0503472222, -5.3333333333), (0.9565972222, -5.3333333333)],
                knots=[0, 0, 0, 1, 1, 1], degree=2))
            add(Edge.make_bspline(
                [(0.9565972222, -5.3333333333), (1.8576388889, -5.3333333333), (2.3185763889, -5.0373263889)],
                knots=[0, 0, 0, 1, 1, 1], degree=2))
            add(Edge.make_bspline(
                [(2.3185763889, -5.0373263889), (2.7795138889, -4.7413194444), (2.7795138889, -4.0746527778)],
                knots=[0, 0, 0, 1, 1, 1], degree=2))
            add(Edge.make_bspline(
                [(2.7795138889, -4.0746527778), (2.7795138889, -3.4114583333), (2.3211805556, -3.1215277778)],
                knots=[0, 0, 0, 1, 1, 1], degree=2))
            add(Edge.make_bspline(
                [(2.3211805556, -3.1215277778), (1.8628472222, -2.8315972222), (0.9565972222, -2.8315972222)],
                knots=[0, 0, 0, 1, 1, 1], degree=2))
            add(Edge.make_bspline(
                [(0.9565972222, -2.8315972222), (0.0555555556, -2.8315972222), (-0.3949652778, -3.1241319444)],
                knots=[0, 0, 0, 1, 1, 1], degree=2))
            add(Edge.make_bspline(
                [(-0.3949652778, -3.1241319444), (-0.8454861111, -3.4166666667), (-0.8454861111, -4.0850694444)],
                knots=[0, 0, 0, 1, 1, 1], degree=2))
            add(Edge.make_bspline(
                [(-0.8454861111, -4.0850694444), (-0.8454861111, -4.7465277778), (-0.3975694444, -5.0399305556)],
                knots=[0, 0, 0, 1, 1, 1], degree=2))
        make_face()
    extrude(amount=-F3_DEPTH, mode=Mode.SUBTRACT)

    # F4 (on Front) → F5 (join, symmetric)
    with BuildSketch(Plane.XZ):
        Circle(F4_R)
    extrude(amount=F5_DEPTH, both=True)


solid = f1.part
